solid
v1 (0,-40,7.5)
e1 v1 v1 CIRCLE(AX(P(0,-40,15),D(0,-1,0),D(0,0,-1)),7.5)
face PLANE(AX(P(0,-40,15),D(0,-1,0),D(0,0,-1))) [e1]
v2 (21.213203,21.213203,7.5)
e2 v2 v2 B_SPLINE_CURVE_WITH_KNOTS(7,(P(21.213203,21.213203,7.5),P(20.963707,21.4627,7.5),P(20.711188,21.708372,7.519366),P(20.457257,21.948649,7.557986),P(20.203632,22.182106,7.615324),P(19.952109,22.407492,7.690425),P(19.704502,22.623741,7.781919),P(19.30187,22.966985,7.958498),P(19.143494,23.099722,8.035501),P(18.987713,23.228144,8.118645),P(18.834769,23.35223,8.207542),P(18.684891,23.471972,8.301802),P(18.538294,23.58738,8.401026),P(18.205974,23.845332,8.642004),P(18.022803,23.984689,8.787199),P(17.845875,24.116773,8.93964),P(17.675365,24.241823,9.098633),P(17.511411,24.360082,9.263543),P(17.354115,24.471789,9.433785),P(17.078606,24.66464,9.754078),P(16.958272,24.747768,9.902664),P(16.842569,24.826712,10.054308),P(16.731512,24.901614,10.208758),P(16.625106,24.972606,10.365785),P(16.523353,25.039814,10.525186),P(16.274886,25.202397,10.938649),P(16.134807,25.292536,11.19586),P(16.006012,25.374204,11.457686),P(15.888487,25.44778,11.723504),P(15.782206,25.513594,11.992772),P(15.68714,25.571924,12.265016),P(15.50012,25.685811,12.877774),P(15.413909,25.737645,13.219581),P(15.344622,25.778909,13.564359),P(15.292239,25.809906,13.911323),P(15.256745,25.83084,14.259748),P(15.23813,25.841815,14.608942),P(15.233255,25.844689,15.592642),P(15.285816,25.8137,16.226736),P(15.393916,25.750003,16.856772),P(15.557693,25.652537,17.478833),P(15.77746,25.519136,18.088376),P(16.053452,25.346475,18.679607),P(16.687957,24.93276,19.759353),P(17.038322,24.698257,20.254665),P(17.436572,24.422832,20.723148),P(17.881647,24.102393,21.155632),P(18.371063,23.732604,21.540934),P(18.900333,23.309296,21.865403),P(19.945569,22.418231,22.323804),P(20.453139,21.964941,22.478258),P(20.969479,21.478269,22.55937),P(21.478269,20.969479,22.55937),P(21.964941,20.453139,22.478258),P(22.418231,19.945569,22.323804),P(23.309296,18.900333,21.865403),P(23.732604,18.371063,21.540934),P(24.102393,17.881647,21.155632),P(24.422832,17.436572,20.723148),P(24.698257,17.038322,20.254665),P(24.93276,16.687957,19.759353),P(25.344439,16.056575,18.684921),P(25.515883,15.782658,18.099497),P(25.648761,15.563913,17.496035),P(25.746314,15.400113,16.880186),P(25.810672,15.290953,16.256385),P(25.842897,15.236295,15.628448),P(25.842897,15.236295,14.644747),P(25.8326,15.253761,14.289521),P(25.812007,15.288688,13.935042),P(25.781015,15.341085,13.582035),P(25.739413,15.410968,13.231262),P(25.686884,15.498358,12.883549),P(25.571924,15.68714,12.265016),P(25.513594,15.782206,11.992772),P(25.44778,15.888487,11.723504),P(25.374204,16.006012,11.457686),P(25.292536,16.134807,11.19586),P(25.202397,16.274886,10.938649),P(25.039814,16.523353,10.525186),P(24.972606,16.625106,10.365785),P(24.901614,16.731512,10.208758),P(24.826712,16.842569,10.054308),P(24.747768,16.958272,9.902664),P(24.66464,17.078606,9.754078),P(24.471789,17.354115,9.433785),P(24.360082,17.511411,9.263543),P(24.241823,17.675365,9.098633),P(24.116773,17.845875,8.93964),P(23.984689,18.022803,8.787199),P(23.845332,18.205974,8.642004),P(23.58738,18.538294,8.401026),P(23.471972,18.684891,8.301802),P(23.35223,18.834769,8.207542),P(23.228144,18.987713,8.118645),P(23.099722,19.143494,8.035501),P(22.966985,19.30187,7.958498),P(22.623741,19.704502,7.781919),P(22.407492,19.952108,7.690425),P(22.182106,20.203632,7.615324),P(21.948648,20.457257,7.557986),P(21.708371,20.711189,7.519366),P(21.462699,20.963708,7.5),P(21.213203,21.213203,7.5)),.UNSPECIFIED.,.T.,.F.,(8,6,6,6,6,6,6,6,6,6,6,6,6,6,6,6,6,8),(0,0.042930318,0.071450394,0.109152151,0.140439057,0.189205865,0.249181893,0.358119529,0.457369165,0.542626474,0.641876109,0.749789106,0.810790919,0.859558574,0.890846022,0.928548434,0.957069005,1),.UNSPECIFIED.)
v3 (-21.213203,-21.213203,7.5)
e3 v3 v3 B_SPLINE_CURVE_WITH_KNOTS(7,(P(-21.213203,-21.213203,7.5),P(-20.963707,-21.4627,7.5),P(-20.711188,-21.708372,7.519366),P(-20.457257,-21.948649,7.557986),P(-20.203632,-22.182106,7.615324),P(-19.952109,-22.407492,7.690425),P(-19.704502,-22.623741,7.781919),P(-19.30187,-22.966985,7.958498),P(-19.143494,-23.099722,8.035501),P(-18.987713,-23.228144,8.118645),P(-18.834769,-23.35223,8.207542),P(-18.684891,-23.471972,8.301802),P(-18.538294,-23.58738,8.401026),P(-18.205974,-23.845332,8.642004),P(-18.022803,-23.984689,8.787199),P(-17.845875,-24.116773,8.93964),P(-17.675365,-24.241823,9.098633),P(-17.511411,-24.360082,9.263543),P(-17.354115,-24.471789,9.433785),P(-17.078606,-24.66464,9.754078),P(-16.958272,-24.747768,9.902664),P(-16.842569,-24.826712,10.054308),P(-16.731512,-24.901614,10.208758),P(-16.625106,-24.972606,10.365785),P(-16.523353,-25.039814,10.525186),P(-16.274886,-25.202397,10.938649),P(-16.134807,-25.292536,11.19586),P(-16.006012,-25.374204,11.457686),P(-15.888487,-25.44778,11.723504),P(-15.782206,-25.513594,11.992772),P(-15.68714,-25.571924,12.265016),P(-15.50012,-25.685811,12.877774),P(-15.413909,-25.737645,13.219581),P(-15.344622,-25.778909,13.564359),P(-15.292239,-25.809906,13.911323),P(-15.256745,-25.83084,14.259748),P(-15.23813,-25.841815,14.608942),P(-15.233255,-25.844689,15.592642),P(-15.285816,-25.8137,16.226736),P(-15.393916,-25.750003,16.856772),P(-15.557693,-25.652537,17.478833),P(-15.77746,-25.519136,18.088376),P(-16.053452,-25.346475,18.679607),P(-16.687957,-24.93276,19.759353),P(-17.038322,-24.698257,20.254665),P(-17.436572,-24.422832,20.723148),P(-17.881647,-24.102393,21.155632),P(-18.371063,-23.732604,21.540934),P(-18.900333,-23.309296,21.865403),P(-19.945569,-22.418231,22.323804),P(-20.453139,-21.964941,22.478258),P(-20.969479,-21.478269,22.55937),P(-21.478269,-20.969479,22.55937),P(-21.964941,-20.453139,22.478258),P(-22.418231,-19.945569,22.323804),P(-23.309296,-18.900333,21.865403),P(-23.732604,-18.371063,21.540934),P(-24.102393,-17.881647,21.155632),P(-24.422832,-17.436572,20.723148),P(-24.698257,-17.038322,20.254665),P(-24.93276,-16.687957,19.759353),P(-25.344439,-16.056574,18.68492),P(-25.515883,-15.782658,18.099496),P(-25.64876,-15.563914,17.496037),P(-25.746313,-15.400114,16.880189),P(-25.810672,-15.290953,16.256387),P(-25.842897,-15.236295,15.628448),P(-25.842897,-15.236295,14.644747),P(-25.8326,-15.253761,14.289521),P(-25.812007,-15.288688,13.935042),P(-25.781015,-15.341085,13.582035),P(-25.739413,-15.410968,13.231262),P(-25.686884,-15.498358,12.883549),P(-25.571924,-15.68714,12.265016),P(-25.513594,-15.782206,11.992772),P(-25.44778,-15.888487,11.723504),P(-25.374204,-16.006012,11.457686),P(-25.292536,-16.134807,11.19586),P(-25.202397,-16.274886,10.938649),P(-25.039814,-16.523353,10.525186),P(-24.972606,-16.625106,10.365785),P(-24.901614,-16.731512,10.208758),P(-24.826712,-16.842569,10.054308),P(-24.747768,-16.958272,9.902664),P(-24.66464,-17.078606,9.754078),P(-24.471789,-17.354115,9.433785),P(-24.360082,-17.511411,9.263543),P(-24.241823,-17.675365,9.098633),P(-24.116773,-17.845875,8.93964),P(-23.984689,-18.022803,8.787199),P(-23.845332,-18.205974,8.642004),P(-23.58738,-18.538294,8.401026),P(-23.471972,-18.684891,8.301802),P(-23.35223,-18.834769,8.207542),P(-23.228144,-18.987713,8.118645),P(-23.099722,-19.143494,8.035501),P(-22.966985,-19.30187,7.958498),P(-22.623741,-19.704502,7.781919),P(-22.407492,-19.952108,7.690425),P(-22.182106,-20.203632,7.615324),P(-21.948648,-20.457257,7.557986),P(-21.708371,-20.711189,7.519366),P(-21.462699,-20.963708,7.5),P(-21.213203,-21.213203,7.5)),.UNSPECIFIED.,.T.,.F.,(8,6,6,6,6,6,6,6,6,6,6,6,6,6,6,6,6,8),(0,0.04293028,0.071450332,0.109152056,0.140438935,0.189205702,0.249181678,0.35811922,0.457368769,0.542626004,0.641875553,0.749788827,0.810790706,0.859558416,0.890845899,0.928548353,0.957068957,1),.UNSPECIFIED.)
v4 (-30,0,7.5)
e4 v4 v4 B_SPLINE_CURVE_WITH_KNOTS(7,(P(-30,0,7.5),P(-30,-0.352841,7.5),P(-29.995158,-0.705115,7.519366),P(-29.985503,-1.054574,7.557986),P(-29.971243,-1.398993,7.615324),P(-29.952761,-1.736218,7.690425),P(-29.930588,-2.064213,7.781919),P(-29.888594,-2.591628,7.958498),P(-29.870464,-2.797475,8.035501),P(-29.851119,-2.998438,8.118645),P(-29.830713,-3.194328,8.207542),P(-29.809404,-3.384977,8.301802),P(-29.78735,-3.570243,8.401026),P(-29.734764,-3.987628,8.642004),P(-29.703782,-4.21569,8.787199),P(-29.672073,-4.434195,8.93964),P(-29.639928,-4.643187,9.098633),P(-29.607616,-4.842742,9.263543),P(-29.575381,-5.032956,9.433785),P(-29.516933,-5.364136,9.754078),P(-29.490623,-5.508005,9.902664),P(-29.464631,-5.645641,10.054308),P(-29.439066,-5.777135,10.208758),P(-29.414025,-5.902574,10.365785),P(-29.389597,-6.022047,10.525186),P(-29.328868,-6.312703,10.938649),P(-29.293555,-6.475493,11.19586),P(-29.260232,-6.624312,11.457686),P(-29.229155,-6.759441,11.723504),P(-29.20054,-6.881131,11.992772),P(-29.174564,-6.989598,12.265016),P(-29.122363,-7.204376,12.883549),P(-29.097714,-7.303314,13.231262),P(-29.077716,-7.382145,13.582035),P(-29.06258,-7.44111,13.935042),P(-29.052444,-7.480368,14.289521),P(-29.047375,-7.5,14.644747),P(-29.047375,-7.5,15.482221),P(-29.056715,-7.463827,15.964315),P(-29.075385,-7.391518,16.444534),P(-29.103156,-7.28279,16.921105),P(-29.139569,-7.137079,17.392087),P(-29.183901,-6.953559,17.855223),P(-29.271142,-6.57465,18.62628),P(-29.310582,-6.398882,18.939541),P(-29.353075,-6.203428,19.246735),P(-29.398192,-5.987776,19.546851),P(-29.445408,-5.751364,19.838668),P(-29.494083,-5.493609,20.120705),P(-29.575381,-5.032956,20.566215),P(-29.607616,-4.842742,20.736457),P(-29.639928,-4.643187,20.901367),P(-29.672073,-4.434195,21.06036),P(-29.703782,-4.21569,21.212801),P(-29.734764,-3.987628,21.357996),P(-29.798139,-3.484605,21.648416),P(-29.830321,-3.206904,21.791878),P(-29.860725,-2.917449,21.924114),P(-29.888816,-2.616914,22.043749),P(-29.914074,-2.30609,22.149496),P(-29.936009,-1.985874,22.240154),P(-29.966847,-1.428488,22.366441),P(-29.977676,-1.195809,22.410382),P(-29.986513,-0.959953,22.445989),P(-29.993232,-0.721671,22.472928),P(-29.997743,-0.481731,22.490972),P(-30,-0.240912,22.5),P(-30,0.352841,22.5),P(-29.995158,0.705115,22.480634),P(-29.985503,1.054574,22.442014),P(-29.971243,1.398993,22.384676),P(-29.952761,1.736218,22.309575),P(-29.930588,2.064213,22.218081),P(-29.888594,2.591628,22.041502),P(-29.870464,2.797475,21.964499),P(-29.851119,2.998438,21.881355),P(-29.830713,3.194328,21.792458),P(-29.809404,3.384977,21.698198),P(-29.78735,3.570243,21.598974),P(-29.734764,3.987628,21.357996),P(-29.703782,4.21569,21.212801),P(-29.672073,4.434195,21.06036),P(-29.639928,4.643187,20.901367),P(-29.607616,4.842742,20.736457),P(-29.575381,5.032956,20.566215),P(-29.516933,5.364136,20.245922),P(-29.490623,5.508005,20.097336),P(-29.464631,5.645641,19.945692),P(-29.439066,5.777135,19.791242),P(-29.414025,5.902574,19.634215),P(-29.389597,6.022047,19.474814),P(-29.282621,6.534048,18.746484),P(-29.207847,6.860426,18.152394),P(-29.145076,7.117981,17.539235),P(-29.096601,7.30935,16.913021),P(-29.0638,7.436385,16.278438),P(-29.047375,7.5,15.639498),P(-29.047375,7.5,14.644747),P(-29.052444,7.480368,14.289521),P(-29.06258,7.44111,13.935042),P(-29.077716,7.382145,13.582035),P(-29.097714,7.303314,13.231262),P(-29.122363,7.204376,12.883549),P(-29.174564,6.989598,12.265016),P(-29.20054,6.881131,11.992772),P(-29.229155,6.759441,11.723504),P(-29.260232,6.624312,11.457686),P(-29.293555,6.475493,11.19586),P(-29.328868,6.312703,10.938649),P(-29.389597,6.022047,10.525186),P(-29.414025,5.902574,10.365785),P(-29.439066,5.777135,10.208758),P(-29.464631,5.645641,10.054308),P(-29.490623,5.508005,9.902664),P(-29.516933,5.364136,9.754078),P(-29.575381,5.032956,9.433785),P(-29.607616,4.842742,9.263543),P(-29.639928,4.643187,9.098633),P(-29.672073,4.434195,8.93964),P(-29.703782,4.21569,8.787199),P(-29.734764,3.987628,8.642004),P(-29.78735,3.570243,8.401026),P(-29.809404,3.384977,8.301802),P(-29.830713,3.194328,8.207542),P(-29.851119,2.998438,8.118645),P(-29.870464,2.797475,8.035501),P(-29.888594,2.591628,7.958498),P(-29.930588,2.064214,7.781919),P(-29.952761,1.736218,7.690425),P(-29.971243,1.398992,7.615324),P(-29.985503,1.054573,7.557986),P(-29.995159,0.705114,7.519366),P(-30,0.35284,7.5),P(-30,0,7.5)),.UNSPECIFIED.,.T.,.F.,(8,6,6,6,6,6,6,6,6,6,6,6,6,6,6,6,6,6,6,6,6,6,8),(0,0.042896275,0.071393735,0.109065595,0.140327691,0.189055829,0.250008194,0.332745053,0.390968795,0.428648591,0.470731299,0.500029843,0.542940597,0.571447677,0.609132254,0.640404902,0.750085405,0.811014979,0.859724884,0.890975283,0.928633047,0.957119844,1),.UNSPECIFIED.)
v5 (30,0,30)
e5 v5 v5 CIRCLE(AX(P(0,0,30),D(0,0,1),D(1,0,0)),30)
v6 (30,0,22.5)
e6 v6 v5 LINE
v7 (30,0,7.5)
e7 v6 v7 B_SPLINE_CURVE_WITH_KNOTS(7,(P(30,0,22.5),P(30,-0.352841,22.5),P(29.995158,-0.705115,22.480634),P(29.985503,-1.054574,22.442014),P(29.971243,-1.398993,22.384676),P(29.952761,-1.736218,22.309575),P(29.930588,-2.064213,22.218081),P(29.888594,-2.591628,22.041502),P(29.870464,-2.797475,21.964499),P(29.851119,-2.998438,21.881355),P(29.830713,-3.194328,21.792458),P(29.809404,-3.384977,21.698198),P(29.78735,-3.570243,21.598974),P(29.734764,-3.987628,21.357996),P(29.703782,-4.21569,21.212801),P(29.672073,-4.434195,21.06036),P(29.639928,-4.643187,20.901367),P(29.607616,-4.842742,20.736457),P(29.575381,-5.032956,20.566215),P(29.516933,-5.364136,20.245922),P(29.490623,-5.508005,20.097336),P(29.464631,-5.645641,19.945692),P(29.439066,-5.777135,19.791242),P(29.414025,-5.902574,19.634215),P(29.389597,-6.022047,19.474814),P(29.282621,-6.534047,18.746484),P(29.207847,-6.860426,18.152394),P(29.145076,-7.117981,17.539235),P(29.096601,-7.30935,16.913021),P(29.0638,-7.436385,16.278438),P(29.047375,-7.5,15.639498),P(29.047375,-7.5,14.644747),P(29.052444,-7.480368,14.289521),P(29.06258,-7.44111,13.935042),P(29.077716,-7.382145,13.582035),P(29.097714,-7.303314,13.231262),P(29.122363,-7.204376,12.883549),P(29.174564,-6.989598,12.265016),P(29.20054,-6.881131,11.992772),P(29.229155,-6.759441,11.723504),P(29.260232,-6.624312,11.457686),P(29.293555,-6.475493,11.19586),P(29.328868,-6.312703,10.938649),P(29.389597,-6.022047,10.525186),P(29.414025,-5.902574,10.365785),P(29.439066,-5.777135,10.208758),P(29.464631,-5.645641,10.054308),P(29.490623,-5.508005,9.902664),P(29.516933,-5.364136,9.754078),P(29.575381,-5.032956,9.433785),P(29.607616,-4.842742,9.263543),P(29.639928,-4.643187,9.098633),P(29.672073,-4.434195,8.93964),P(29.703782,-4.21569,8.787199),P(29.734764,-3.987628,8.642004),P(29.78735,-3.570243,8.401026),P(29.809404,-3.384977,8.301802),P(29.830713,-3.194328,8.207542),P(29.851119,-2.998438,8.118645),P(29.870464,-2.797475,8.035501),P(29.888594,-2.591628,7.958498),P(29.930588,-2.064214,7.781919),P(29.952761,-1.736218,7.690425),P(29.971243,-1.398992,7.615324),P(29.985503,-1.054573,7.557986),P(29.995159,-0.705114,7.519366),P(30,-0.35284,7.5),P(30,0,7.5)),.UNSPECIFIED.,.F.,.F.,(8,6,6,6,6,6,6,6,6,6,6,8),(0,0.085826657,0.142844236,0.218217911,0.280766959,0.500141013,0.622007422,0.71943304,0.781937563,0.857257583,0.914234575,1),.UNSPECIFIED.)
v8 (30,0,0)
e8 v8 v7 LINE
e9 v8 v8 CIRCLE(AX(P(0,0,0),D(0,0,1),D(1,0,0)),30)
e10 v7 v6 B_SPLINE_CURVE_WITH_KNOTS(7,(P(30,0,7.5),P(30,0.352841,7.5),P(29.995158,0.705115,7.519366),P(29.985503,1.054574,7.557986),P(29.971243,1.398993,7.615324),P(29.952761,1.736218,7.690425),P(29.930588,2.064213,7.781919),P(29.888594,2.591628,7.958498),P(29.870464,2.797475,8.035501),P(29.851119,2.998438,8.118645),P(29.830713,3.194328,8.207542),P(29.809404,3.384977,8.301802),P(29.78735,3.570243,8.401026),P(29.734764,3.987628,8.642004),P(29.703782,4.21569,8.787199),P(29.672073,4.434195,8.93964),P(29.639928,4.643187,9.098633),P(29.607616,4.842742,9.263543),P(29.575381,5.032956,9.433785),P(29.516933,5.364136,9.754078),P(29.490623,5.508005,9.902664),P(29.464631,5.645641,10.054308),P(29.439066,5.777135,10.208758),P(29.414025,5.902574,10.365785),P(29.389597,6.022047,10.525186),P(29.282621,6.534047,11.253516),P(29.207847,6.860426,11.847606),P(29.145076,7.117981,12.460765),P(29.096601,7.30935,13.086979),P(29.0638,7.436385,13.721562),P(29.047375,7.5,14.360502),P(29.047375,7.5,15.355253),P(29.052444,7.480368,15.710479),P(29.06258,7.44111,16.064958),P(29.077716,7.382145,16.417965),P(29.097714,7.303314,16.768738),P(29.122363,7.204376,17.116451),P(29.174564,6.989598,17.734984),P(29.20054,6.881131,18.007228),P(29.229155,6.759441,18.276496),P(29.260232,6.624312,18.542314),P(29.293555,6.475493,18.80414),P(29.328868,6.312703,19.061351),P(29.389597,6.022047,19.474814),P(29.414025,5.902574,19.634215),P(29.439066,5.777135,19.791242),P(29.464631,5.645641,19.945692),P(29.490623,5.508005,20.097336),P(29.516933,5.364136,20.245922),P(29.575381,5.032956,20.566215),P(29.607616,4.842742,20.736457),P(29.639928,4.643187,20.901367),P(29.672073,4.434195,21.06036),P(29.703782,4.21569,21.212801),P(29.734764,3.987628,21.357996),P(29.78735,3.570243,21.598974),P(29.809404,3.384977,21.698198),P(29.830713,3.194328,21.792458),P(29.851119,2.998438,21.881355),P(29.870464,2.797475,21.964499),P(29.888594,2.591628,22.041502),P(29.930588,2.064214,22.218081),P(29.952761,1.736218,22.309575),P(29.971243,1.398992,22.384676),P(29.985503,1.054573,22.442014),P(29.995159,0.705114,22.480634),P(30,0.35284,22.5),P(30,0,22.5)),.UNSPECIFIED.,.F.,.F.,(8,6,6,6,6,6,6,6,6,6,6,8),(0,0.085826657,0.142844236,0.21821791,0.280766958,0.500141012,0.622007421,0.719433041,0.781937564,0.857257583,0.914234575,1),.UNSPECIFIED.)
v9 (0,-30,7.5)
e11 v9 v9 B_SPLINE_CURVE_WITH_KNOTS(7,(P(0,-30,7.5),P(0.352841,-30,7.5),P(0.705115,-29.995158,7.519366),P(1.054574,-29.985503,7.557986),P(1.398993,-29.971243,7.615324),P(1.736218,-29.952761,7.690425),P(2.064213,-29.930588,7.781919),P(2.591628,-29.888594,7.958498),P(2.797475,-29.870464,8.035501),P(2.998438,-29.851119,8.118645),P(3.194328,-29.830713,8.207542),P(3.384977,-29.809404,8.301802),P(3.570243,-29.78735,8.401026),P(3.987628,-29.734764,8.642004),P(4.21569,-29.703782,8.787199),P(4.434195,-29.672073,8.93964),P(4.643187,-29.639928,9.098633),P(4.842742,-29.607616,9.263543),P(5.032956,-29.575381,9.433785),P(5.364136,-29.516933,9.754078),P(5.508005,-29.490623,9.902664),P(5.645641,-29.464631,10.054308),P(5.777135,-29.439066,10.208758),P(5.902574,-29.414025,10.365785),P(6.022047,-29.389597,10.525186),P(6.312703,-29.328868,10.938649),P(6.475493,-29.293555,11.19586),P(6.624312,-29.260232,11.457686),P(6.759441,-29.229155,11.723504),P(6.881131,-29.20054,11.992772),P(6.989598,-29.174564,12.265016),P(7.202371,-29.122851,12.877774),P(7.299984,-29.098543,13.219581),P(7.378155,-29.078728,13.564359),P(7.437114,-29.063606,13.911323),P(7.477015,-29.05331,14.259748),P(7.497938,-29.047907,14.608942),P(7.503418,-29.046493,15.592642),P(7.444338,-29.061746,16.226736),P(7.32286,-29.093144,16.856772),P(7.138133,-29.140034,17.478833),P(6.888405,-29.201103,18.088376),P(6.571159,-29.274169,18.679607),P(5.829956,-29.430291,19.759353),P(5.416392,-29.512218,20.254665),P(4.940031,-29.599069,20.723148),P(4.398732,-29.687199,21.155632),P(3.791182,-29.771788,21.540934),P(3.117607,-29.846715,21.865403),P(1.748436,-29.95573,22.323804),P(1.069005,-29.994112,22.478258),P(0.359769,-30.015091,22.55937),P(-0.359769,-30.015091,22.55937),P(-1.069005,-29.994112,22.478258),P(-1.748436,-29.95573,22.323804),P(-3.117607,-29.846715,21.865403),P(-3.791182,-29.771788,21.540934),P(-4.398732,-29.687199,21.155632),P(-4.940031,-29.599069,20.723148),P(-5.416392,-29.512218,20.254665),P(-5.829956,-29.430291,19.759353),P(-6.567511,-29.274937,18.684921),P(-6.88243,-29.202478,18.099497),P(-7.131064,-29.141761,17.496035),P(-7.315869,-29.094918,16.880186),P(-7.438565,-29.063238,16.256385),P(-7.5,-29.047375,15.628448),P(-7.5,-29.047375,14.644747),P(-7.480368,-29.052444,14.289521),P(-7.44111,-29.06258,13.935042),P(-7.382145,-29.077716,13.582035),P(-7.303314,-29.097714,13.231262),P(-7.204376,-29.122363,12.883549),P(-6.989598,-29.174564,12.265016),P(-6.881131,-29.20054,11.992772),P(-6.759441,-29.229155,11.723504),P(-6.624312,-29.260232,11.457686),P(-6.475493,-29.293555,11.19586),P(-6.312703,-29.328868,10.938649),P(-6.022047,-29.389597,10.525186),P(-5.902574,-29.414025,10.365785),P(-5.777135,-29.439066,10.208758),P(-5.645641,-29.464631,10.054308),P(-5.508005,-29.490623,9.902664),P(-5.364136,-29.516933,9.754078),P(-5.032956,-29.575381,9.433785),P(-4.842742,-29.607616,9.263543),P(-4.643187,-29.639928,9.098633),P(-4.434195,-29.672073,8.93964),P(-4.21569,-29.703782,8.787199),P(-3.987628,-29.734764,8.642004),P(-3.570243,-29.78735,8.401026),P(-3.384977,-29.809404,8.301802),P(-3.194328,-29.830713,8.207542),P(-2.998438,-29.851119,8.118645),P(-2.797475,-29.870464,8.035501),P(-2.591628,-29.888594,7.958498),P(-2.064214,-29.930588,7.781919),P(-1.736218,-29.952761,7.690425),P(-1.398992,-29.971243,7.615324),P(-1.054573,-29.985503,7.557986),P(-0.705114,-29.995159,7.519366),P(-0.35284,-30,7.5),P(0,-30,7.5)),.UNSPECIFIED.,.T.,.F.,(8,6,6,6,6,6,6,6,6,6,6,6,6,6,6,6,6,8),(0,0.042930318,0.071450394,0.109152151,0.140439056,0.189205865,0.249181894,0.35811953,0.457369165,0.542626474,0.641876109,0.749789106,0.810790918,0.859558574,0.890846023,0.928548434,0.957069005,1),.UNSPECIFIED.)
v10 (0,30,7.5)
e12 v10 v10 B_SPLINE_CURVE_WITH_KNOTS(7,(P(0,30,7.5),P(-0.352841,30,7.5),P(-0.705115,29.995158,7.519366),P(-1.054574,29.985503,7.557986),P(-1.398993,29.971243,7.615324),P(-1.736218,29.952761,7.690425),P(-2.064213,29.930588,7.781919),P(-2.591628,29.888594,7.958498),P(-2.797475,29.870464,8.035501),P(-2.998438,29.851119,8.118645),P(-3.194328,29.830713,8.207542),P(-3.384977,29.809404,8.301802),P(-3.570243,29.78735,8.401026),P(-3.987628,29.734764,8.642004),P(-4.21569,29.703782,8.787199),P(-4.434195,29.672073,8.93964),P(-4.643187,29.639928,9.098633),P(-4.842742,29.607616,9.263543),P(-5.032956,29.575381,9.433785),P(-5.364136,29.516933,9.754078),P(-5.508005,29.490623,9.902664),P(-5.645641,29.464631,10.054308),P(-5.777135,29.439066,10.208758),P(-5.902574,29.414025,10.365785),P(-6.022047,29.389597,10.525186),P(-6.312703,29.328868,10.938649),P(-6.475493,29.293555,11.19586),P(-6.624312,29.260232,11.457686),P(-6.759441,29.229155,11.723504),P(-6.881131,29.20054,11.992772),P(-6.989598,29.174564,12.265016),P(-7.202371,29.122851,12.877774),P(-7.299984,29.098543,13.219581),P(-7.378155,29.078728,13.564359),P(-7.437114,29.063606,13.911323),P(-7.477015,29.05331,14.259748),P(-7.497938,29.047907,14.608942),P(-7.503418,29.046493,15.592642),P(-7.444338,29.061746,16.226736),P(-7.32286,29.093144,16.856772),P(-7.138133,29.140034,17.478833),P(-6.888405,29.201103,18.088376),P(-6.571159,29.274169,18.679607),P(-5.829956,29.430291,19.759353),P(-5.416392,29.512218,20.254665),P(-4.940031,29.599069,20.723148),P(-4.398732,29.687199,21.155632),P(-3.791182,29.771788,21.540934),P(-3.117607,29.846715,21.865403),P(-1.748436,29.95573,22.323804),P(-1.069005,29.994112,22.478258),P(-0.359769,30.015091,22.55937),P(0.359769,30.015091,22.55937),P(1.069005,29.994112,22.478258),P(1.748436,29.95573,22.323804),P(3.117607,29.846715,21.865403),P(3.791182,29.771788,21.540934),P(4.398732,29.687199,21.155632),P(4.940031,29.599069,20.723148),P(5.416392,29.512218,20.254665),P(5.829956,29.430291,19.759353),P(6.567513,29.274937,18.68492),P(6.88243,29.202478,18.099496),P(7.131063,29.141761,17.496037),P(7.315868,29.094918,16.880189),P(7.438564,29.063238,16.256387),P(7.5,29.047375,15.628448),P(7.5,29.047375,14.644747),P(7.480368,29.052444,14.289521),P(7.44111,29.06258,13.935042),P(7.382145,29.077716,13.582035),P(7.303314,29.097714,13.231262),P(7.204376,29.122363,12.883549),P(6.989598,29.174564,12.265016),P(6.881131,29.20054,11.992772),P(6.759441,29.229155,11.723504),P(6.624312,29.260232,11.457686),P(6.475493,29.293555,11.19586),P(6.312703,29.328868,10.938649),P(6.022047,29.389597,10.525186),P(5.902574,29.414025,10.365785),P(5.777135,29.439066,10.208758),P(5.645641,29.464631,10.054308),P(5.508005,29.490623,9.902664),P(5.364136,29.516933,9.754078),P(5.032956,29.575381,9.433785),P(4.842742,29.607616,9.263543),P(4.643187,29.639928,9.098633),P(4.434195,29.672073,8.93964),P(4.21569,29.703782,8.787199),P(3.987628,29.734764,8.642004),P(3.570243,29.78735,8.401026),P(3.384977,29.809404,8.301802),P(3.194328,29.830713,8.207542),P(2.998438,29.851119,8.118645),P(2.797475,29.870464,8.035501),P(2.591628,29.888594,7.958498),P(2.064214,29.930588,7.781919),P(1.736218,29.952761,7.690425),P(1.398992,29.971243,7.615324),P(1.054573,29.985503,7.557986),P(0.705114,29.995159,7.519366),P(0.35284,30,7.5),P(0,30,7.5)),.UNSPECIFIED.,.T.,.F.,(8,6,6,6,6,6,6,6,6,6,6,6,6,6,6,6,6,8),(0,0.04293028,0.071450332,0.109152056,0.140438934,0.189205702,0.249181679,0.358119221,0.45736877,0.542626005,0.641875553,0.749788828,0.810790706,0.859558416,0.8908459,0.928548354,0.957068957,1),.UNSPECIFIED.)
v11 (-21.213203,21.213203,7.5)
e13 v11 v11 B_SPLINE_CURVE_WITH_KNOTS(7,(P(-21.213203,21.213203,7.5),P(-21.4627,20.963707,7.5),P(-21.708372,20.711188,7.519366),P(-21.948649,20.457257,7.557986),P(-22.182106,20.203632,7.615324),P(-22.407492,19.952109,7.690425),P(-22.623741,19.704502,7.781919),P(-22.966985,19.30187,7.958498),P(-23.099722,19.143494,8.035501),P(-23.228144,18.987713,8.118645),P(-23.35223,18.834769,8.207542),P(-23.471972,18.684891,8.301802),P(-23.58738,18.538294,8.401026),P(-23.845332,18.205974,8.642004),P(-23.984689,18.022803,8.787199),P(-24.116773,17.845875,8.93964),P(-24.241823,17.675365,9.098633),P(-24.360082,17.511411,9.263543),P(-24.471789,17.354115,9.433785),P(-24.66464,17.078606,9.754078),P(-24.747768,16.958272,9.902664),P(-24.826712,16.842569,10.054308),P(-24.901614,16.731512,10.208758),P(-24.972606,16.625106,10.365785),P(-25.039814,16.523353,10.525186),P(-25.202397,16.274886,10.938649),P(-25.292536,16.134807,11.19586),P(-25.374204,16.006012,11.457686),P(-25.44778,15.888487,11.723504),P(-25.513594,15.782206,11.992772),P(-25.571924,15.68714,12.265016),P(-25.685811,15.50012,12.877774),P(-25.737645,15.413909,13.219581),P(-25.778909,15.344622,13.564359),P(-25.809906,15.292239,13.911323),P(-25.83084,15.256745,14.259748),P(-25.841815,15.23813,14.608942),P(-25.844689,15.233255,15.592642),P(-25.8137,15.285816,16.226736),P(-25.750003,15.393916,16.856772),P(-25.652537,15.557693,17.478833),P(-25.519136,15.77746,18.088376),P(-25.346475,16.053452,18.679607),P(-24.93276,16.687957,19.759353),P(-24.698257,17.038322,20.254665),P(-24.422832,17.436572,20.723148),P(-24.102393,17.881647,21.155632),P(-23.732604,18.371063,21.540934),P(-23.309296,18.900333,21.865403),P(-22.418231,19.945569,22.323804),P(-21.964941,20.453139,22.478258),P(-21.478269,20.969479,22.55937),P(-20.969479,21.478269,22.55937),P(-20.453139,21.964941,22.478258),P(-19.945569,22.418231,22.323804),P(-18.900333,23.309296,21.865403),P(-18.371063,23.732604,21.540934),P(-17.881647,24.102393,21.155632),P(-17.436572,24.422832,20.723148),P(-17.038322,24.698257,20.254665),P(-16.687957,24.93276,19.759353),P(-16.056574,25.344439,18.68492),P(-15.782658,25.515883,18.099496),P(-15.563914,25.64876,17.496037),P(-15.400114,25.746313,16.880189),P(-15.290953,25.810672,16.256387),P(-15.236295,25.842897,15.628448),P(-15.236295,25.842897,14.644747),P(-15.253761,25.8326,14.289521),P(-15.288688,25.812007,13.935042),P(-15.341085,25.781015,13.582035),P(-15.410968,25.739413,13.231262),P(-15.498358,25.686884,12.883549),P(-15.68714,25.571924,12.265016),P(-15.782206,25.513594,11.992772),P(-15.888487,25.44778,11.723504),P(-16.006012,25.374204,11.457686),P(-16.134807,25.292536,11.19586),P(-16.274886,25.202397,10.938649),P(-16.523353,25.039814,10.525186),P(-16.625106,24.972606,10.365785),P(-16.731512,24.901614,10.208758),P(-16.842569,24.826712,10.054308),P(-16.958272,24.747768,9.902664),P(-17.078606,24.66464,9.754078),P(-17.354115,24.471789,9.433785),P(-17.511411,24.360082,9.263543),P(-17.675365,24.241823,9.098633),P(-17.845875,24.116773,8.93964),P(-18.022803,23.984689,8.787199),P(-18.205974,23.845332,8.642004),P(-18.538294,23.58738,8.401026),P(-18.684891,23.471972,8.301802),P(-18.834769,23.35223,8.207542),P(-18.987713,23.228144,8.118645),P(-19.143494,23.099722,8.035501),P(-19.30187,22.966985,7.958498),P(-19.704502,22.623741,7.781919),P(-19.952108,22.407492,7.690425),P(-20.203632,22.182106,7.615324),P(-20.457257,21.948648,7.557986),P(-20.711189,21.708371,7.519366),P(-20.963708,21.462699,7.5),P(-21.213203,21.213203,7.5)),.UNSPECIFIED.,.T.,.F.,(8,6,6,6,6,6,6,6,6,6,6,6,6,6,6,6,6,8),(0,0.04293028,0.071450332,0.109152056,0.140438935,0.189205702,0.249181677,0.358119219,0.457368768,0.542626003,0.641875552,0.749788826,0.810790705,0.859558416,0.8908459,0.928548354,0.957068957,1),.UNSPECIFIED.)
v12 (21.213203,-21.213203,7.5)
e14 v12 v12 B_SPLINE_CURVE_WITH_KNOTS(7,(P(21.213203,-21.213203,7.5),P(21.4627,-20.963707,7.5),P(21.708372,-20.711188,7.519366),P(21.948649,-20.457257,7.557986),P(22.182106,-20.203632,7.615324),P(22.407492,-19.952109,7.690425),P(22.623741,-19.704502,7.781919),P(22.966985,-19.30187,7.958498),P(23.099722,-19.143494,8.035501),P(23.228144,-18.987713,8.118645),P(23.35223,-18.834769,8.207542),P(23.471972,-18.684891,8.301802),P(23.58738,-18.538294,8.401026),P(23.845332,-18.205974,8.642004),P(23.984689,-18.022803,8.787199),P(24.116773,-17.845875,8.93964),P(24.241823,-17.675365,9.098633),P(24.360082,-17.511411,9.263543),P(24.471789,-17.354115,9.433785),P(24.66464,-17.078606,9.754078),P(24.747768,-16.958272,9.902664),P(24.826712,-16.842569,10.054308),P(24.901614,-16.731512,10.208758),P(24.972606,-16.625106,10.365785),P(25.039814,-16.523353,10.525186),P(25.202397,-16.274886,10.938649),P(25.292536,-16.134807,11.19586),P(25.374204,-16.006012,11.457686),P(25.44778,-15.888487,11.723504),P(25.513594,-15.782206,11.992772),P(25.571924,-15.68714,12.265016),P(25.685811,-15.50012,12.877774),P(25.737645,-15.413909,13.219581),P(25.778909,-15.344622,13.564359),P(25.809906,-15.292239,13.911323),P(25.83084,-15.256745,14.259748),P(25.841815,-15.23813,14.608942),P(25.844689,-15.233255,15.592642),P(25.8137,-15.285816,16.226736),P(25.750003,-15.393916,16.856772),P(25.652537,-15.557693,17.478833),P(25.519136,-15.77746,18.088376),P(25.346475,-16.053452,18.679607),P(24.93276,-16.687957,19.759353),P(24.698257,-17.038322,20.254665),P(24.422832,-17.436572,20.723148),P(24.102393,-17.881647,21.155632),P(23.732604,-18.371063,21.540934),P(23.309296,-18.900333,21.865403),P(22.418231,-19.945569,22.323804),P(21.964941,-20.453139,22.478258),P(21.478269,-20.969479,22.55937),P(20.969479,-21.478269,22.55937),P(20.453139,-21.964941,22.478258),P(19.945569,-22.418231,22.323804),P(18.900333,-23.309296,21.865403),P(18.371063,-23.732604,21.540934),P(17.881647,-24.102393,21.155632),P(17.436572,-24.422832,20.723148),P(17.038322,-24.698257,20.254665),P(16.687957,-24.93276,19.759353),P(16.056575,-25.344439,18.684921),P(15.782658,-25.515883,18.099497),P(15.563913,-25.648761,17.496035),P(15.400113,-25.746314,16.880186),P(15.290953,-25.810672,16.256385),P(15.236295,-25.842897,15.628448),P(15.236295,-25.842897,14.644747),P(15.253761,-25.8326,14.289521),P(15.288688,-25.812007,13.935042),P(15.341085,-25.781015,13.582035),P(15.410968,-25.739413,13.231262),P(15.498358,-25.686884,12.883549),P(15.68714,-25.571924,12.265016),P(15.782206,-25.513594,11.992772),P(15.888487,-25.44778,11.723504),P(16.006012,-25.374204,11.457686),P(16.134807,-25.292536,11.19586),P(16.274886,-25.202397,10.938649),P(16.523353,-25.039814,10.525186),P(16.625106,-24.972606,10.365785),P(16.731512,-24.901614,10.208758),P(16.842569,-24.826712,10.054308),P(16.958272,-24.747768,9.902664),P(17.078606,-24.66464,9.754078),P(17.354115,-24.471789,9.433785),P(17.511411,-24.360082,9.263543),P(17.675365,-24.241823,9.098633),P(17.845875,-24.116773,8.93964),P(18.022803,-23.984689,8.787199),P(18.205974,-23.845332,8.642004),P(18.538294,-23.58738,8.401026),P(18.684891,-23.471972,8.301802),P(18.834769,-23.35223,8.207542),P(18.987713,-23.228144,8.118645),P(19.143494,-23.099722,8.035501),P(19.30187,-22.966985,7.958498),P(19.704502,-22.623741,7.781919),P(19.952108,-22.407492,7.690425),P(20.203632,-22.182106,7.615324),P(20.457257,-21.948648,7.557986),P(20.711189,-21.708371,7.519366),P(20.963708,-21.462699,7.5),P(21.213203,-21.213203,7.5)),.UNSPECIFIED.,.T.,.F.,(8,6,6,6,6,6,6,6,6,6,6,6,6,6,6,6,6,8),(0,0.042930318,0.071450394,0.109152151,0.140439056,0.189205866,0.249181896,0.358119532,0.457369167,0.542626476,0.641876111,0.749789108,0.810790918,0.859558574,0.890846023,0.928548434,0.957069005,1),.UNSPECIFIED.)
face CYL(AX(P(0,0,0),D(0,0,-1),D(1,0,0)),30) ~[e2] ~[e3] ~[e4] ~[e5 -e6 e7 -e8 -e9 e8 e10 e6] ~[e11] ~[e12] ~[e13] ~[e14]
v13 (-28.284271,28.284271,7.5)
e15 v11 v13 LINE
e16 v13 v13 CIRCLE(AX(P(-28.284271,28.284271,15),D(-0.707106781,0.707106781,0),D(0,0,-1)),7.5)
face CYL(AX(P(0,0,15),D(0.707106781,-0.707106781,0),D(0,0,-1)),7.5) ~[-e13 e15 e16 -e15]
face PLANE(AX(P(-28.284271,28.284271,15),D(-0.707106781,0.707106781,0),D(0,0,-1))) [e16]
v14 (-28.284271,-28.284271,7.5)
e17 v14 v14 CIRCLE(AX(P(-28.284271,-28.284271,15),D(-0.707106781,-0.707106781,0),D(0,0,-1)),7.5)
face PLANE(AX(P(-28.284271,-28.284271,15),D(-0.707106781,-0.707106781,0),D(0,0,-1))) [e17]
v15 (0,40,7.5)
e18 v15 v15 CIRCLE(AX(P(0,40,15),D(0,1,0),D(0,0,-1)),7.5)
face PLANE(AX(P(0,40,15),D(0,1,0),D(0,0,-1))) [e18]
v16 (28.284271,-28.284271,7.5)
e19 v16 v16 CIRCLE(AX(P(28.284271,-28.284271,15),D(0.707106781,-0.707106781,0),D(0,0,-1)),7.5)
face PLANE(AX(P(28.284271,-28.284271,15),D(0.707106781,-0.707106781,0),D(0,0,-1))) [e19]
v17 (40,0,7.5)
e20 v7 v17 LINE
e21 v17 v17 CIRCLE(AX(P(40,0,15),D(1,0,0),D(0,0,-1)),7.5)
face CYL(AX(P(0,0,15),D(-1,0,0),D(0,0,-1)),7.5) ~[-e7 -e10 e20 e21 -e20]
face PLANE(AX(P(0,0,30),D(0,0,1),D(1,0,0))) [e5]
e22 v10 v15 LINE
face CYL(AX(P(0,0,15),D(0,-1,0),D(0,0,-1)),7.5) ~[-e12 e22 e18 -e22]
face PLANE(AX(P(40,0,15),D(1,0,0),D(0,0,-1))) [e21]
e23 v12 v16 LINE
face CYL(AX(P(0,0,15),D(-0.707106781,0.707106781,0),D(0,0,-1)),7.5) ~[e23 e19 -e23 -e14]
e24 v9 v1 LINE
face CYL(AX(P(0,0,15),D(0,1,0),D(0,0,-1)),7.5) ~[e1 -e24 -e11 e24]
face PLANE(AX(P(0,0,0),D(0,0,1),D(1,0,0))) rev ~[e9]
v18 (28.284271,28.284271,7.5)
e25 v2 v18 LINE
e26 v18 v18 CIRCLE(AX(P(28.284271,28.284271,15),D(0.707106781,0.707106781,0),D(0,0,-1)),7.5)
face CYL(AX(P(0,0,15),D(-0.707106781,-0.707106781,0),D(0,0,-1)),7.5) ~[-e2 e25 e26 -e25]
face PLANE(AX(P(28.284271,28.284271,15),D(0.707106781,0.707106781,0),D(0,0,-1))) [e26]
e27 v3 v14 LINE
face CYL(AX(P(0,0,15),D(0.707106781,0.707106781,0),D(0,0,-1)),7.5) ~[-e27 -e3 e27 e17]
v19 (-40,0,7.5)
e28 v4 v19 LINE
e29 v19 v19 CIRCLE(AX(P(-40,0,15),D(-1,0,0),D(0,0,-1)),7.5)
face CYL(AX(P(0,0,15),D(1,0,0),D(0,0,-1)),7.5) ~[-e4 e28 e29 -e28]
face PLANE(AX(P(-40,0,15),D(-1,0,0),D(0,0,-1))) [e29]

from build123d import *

# Parameters (mm, degrees)
SKIZZE1_R                       = 30
AUFSATZ_LINEAR_AUSTRAGEN1_DEPTH = 30
SKIZZE2_R                       = 7.5
AUFSATZ_LINEAR_AUSTRAGEN2_DEPTH = 40
KREISMUSTER1_COUNT              = 8


with BuildPart() as part:
    # Skizze1 → Aufsatz-Linear austragen1 (new body)
    with BuildSketch(Plane.XY):
        Circle(SKIZZE1_R)
    extrude(amount=AUFSATZ_LINEAR_AUSTRAGEN1_DEPTH)

    # Skizze2 → Aufsatz-Linear austragen2 (add)
    with BuildSketch(Plane(origin=(0, 0, 0), x_dir=(1, 0, 0), z_dir=(0, 1, 0))):
        with Locations(Location((0, -15, 0), (0, 0, 90))):
            Circle(SKIZZE2_R)
    aufsatz_linear_austragen2 = extrude(amount=AUFSATZ_LINEAR_AUSTRAGEN2_DEPTH)

    # Kreismuster1: Aufsatz-Linear austragen2 ×8 about axis
    kreismuster1_axis = Axis((0, 0, 0), (0, 0, 1))
    for i in range(1, KREISMUSTER1_COUNT):
        add(aufsatz_linear_austragen2.rotate(kreismuster1_axis, i * 360 / KREISMUSTER1_COUNT))


solid = part.part
